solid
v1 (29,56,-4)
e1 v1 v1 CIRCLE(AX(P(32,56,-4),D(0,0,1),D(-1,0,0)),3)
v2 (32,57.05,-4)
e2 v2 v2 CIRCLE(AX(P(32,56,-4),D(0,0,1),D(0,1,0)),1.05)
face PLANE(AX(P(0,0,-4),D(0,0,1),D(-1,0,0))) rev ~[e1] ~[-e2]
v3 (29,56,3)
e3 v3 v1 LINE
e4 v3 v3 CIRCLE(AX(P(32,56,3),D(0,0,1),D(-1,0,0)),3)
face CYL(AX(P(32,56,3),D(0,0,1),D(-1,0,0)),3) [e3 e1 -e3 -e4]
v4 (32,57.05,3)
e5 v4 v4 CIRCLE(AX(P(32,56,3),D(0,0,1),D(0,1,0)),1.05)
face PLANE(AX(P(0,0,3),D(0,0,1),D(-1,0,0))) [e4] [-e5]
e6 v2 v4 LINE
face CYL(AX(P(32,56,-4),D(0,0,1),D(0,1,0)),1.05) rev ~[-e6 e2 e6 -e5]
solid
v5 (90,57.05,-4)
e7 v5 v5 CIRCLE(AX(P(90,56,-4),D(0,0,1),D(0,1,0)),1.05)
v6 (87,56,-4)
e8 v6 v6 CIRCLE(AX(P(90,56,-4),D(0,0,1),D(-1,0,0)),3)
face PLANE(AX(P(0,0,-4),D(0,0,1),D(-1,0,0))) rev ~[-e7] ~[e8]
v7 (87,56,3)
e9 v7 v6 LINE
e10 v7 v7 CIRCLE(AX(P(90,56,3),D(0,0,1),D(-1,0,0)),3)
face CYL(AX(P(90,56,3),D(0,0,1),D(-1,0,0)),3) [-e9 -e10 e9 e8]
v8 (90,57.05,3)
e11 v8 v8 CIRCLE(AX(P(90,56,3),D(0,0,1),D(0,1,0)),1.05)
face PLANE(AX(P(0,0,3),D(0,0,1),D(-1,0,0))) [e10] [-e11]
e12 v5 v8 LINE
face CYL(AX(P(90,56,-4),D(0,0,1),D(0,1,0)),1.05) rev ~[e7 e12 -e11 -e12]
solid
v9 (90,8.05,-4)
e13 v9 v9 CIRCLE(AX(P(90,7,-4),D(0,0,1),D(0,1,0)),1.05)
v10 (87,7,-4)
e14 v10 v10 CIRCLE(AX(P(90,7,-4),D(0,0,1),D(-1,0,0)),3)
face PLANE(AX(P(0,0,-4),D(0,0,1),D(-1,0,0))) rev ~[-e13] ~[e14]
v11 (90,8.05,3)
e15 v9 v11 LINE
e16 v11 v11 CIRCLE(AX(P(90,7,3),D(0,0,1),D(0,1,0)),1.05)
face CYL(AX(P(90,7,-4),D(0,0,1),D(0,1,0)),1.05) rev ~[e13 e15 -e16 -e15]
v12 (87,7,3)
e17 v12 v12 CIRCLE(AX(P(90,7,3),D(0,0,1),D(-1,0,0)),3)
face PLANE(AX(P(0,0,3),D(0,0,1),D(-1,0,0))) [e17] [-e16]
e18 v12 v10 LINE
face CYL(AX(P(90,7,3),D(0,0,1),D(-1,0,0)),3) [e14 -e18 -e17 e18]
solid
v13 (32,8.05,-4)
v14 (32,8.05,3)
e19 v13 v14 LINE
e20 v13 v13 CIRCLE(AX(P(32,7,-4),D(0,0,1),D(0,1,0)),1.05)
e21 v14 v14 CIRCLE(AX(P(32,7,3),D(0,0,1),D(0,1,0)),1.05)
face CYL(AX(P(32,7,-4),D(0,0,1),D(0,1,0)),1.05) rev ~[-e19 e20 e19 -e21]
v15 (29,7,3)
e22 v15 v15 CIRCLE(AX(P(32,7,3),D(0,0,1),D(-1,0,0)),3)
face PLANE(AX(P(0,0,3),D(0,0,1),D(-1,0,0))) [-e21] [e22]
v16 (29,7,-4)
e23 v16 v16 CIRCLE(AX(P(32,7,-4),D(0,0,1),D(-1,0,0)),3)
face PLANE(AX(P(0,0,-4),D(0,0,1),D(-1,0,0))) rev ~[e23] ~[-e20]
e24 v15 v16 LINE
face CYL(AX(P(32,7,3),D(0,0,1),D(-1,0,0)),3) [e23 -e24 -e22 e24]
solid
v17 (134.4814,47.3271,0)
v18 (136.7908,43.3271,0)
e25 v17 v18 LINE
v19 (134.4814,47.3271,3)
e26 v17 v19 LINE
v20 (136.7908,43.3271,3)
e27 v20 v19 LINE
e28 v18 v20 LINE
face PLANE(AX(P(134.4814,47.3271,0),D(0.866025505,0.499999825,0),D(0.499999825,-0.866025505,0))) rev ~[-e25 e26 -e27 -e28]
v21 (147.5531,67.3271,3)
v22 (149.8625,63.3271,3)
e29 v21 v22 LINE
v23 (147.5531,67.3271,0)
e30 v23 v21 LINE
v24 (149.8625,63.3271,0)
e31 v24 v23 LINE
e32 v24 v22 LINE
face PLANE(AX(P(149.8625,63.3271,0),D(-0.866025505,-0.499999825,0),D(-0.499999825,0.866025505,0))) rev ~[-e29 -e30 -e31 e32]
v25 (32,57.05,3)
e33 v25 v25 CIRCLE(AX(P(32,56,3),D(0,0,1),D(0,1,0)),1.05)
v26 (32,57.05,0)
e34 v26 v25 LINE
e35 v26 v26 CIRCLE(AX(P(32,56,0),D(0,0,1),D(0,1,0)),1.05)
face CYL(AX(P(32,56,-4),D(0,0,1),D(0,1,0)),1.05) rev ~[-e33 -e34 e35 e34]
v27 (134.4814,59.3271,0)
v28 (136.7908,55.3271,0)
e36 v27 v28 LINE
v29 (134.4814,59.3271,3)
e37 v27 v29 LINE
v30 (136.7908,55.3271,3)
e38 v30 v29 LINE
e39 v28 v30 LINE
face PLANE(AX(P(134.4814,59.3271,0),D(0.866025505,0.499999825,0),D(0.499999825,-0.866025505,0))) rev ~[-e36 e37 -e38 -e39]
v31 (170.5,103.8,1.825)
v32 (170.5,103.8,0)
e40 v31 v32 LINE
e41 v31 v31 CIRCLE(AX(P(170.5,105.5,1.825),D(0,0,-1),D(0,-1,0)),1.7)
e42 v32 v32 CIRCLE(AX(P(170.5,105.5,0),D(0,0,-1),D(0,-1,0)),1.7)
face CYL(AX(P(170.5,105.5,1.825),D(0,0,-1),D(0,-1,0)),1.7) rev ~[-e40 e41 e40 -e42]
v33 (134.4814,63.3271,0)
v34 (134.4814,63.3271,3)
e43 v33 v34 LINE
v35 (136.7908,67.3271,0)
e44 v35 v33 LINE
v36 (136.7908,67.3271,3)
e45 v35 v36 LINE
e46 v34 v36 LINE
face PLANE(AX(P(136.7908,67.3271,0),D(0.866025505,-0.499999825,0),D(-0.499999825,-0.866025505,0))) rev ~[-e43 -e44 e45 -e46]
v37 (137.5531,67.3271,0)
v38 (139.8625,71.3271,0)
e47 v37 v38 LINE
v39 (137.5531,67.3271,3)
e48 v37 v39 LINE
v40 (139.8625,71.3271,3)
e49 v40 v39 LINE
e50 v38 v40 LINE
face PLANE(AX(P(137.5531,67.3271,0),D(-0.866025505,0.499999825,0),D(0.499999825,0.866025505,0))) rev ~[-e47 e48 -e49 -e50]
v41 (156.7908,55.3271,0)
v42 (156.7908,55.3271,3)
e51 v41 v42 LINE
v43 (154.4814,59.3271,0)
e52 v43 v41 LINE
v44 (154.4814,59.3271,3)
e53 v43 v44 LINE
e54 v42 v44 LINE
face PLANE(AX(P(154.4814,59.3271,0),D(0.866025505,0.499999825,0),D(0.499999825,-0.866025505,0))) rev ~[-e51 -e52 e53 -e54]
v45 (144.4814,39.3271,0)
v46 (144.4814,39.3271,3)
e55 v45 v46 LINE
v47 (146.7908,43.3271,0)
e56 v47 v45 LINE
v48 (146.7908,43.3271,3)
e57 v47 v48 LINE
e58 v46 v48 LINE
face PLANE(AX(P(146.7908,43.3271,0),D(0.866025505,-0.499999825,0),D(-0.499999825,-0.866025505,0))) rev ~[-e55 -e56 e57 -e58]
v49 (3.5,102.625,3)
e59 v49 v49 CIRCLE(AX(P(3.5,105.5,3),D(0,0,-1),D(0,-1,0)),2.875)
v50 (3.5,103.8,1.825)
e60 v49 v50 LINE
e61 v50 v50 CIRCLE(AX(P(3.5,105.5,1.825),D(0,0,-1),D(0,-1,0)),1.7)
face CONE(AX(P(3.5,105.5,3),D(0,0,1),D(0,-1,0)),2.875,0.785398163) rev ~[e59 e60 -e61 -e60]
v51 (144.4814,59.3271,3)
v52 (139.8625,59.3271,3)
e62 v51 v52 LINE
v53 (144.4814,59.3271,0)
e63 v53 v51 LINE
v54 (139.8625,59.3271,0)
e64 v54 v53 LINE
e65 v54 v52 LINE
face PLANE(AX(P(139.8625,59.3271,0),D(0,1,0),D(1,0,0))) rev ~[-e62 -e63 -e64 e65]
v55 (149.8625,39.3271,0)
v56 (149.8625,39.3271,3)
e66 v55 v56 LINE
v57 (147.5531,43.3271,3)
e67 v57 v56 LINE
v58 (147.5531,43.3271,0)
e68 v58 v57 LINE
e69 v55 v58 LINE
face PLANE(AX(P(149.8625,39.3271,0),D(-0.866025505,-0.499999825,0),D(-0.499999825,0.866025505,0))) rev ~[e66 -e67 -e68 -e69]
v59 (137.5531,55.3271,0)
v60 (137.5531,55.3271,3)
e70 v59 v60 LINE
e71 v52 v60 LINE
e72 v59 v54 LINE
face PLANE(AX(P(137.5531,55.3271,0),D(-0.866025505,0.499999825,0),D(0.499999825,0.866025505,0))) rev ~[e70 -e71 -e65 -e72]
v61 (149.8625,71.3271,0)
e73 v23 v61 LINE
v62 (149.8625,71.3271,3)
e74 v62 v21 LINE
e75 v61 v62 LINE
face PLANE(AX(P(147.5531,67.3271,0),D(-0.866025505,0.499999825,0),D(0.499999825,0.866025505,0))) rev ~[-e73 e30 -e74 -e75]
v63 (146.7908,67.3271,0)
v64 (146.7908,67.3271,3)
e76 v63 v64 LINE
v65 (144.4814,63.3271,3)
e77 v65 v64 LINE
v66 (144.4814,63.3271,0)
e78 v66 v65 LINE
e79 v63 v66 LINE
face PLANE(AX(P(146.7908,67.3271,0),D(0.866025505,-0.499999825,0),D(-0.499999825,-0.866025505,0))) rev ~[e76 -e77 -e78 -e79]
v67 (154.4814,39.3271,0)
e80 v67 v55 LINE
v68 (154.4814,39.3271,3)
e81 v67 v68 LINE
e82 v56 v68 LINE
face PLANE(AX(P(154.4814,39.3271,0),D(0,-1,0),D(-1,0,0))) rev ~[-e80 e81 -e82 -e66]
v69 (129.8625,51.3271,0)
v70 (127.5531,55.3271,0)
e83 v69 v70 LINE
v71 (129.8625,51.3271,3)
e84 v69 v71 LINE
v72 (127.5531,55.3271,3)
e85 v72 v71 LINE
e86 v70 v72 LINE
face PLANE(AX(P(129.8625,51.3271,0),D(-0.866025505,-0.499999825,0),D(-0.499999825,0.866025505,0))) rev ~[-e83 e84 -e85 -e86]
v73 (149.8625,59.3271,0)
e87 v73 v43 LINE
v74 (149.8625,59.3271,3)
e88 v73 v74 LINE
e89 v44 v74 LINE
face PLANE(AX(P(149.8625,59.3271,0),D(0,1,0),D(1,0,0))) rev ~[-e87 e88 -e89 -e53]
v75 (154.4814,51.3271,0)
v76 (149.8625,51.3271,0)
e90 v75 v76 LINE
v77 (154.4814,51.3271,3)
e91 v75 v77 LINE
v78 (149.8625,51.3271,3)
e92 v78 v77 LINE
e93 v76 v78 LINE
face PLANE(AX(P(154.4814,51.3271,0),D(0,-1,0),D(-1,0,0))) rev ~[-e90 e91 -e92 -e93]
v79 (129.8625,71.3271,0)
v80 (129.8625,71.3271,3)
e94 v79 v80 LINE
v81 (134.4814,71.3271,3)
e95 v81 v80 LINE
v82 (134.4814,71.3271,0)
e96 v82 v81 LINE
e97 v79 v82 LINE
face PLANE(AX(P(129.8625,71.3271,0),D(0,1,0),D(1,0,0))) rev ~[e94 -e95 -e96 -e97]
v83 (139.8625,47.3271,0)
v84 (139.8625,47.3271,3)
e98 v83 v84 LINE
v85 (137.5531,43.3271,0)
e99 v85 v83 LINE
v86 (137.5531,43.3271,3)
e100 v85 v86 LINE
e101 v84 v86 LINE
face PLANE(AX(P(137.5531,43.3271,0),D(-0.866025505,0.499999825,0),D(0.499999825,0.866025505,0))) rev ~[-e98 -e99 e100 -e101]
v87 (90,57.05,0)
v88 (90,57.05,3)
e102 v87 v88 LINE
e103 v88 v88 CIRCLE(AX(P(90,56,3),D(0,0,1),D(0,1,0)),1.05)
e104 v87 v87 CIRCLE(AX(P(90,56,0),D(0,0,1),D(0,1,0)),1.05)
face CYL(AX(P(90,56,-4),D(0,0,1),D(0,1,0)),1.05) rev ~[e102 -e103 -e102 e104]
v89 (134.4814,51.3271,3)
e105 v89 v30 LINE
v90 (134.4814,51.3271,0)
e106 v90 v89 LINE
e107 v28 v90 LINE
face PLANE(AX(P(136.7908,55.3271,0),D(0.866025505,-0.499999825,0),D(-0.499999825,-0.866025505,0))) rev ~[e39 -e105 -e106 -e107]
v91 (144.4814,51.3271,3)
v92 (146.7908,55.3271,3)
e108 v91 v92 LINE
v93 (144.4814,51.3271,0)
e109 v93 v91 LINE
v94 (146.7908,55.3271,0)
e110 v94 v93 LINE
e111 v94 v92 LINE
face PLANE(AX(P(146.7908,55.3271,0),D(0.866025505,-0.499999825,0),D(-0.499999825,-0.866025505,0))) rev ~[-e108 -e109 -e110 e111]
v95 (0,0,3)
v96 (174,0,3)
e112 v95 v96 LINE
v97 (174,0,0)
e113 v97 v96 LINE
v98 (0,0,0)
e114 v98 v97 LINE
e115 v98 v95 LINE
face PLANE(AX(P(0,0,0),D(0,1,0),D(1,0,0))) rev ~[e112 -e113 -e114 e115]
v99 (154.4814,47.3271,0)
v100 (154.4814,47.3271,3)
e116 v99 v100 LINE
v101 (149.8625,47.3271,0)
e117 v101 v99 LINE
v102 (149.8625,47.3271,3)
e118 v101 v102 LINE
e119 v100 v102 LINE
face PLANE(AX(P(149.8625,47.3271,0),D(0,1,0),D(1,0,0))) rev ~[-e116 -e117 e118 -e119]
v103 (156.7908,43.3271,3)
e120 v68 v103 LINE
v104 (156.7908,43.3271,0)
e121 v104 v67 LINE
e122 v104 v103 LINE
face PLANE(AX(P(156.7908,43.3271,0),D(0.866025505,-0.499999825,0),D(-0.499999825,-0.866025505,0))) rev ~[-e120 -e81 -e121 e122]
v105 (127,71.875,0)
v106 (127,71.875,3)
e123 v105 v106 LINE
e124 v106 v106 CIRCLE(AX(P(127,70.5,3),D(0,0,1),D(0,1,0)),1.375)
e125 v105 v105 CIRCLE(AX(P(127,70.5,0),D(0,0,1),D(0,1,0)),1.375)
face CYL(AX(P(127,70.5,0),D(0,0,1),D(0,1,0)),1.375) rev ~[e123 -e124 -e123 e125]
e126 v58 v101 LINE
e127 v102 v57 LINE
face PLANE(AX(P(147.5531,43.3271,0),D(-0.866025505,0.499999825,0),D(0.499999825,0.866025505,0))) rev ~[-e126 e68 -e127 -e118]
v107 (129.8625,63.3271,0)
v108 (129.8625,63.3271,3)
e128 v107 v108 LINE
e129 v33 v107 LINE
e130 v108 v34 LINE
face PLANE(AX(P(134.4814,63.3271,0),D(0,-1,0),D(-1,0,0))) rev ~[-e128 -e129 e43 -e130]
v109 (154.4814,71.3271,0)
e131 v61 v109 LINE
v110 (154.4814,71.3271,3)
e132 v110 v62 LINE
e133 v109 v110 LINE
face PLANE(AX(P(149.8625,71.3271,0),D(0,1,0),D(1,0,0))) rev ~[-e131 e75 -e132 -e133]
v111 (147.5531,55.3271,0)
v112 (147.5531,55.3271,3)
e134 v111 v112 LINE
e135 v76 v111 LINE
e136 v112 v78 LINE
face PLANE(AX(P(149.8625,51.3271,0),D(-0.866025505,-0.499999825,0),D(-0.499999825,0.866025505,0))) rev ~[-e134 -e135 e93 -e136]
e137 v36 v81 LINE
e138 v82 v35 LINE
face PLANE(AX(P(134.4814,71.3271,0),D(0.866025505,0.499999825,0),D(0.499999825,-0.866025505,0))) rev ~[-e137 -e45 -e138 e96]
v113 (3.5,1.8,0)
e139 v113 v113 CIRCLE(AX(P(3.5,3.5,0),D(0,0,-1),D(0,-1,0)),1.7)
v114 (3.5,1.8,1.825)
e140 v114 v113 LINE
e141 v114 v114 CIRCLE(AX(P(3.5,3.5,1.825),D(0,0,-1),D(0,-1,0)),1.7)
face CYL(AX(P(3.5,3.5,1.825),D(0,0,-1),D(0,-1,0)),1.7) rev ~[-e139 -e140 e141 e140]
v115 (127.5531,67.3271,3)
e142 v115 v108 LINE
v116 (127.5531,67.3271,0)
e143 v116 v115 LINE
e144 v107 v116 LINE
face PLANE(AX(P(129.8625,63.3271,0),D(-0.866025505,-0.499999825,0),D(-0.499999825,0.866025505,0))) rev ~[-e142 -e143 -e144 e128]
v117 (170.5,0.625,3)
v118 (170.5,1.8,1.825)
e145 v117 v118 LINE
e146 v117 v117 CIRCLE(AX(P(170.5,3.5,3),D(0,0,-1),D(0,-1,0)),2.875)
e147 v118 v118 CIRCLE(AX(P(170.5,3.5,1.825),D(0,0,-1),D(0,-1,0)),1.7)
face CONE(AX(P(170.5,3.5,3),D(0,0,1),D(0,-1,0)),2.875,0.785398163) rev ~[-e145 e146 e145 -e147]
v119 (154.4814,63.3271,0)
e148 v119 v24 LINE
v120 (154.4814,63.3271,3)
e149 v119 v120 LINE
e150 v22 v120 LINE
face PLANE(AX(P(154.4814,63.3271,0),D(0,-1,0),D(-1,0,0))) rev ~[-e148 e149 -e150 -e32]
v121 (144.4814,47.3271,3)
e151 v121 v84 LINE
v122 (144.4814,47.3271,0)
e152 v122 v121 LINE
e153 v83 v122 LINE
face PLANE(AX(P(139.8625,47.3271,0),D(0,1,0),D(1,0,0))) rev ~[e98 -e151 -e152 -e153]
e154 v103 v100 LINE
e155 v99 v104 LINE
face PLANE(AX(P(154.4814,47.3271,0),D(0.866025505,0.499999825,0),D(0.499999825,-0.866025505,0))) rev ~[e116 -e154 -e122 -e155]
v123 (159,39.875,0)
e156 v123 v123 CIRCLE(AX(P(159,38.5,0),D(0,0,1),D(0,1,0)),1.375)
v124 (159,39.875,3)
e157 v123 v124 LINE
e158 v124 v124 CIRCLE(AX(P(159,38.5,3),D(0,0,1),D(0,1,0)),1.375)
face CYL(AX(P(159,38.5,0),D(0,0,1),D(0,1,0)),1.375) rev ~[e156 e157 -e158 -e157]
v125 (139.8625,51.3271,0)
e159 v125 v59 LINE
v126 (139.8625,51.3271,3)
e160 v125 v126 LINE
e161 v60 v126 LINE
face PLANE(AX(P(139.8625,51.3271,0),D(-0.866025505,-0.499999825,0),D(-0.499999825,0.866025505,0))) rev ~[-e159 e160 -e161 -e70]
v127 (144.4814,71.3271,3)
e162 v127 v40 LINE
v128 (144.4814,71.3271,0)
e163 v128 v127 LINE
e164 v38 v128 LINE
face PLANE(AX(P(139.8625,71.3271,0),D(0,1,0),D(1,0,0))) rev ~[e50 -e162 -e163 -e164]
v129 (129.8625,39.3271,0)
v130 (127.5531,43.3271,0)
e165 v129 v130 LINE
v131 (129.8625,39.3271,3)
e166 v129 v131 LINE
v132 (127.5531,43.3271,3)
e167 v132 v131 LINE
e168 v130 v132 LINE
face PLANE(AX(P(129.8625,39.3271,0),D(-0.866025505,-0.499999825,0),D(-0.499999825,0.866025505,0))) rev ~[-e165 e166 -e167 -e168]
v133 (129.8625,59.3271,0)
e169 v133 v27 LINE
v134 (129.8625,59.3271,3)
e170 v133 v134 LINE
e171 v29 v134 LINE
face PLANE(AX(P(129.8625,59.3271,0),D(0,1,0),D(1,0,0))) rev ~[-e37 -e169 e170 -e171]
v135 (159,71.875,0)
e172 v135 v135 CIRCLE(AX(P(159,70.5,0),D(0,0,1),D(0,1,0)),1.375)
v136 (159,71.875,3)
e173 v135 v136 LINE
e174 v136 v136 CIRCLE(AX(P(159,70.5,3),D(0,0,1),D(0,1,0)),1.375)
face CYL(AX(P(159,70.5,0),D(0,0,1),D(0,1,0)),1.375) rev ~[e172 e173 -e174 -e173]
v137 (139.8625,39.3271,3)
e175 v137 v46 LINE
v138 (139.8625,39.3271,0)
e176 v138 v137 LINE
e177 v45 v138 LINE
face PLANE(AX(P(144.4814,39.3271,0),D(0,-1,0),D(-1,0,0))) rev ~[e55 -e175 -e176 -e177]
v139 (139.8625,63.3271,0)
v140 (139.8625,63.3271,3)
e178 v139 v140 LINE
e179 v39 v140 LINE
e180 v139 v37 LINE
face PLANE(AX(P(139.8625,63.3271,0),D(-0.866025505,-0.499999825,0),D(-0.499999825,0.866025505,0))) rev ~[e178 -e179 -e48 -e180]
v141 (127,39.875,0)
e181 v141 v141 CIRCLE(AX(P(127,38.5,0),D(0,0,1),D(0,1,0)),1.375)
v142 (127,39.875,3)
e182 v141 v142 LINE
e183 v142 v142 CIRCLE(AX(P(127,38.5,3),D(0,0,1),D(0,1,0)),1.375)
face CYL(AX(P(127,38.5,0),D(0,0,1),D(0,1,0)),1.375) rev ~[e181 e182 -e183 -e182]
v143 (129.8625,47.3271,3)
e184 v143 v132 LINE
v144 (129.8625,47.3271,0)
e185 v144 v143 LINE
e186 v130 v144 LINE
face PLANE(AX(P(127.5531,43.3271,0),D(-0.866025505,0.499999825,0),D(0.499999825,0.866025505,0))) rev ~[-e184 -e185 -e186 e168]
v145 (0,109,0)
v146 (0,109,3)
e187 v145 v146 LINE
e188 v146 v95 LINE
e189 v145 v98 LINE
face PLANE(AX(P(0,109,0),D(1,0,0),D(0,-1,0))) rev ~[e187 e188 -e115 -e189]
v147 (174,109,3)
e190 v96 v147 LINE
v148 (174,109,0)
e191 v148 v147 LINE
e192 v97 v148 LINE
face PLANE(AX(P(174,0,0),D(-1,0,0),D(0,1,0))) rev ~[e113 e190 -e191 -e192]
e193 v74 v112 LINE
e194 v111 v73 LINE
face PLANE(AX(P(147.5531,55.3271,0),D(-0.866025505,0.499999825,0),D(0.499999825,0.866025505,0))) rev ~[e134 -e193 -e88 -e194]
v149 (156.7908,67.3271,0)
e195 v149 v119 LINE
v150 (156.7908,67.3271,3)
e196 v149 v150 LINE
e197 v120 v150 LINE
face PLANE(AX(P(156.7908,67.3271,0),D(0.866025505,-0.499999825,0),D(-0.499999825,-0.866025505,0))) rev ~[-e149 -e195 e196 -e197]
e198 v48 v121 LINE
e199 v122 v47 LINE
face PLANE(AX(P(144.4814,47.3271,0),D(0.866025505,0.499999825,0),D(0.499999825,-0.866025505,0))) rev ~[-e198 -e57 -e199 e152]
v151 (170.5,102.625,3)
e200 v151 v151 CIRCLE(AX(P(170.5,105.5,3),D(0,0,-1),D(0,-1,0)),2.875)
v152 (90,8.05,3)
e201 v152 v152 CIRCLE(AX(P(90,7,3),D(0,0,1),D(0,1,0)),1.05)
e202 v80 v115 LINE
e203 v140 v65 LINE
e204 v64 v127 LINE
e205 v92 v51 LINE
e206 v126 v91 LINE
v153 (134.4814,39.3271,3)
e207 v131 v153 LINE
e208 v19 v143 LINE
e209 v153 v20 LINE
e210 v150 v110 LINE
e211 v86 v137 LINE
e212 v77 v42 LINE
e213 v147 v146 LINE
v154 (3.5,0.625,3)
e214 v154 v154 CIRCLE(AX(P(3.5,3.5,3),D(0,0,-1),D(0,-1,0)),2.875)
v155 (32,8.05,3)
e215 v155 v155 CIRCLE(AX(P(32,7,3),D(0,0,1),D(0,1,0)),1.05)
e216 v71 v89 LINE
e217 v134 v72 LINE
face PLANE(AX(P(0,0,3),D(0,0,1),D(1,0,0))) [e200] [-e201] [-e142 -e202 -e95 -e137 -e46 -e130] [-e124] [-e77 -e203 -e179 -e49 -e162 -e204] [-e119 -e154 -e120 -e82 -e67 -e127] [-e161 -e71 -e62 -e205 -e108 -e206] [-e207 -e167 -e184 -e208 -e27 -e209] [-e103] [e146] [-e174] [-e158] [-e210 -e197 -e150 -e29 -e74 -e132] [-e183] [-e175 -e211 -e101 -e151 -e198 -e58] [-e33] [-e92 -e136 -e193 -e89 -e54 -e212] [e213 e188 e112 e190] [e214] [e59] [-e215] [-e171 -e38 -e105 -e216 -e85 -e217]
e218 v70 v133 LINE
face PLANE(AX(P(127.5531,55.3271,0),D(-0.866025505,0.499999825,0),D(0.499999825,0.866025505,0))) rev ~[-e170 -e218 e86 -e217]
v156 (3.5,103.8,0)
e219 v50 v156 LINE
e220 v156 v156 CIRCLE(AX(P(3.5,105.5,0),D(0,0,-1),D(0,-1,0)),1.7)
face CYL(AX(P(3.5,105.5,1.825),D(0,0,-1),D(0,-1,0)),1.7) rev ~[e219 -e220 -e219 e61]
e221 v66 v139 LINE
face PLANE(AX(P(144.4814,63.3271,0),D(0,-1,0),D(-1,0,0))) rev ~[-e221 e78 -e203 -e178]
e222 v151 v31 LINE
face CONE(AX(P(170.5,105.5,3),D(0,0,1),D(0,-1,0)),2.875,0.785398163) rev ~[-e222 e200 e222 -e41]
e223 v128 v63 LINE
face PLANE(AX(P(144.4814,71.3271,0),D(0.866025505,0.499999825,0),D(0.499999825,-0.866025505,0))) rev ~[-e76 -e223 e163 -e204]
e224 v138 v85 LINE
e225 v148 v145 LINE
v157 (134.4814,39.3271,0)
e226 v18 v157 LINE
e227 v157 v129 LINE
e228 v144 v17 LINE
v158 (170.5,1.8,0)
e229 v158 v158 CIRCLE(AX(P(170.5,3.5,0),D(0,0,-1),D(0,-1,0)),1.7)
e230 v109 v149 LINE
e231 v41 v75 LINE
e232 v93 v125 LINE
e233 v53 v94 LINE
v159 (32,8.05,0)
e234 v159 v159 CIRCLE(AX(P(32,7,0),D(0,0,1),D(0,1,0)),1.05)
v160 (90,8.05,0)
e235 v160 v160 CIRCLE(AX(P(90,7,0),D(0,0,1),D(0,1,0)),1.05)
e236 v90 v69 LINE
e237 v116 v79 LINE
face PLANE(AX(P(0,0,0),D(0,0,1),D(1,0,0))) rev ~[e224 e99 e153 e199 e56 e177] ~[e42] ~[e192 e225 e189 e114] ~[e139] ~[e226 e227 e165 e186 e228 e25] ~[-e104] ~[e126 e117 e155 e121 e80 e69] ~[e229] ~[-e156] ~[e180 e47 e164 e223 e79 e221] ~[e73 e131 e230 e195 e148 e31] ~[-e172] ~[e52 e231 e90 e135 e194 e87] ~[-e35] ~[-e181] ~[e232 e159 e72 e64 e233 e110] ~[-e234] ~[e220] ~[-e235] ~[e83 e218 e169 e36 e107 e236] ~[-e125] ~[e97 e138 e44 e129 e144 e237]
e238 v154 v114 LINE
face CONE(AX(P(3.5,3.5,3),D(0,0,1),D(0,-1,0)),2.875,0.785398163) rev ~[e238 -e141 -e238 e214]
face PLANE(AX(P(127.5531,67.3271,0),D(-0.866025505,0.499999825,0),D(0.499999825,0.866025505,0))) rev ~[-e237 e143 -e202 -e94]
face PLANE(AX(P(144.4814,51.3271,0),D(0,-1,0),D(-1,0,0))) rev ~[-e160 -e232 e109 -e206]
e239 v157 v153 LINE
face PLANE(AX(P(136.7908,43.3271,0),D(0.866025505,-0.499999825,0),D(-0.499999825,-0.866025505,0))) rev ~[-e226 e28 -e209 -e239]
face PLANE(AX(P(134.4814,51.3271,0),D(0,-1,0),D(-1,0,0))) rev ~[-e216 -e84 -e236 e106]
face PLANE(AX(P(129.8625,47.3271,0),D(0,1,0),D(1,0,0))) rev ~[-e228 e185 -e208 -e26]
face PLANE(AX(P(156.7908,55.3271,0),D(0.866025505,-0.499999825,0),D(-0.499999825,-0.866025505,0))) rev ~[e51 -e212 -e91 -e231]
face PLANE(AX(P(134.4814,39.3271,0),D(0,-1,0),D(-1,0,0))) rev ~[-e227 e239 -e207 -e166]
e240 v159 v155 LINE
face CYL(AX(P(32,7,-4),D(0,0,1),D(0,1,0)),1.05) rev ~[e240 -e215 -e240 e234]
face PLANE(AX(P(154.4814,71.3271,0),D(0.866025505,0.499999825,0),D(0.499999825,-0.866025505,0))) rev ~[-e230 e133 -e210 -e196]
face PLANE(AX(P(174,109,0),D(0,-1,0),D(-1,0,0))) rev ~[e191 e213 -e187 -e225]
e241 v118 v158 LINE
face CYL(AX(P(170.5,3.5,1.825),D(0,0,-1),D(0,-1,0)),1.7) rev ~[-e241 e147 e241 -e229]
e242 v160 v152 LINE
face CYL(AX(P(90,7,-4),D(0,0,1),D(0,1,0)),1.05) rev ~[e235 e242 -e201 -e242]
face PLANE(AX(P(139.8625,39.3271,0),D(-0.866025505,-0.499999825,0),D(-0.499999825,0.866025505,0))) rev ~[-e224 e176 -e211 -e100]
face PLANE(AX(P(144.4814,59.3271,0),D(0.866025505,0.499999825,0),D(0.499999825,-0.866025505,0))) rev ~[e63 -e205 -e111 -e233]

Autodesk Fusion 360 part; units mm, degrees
sketch "Sketch1" plane through (0, 0, 0) normal (0, 0, 1) x (1, 0, 0)
  line L0 (0, 0) -> (174, 0)
  line L1 (174, 0) -> (174, 109)
  line L2 (174, 109) -> (0, 109)
  line L3 (0, 109) -> (0, 0)
  dimension "d1" = 174
  dimension "d2" = 109
extrude "Extrude1" add sketch "Sketch1" along normal blind 3 makes body 1
sketch "Sketch2" plane through (0, 0, 3) normal (0, 0, 1) x (-1, 0, 0)
  line L0 (0, -109) -> (0, 0)
  line L1 (0, 0) -> (-174, 0)
  line L2 (-174, 0) -> (-174, -109)
  line L3 (-174, -109) -> (0, -109)
  point P0 (-3.5, -3.5)
  point P1 (-3.5, -105.5)
  point P2 (-170.5, -105.5)
  point P3 (-170.5, -3.5)
hole "Hole1" at (170.5, 3.5, 3) at (3.5, 105.5, 3) at (3.5, 3.5, 3) at (170.5, 105.5, 3) direction (0, 0, -1) diameter 3.4 depth 6 tip angle 180 countersink diameter 5.75 countersink angle 90 bodies 1
sketch "Sketch6" plane through (0, 0, 3) normal (0, 0, 1) x (-1, 0, 0)
  circle A0 centre (-3.5, -3.5) radius 2.875
  circle A1 centre (-170.5, -3.5) radius 2.875
  circle A2 centre (-3.5, -105.5) radius 2.875
  circle A3 centre (-170.5, -105.5) radius 2.875
  line L0 (0, -109) -> (0, 0)
  line L1 (0, 0) -> (-174, 0)
  line L2 (-174, 0) -> (-174, -109)
  line L3 (-174, -109) -> (0, -109)
  circle A4 centre (-90, -7) radius 3
  circle A5 centre (-90, -56) radius 3
  circle A6 centre (-32, -7) radius 3
  circle A7 centre (-32, -56) radius 3
  point P0 (-32, -7)
  point P1 (-32, -56)
  point P2 (-90, -7)
  point P3 (-90, -56)
  dimension "d24" = 6
  dimension "d25" = 6
  dimension "d26" = 6
  dimension "d27" = 6
extrude "Extrude3" add sketch "Sketch6" against normal blind 7 separate body contours A4 | A5 | A6 | A7 makes body 2 at (87.0149, 7.2987, -1.6667) makes body 3 at (29.0149, 7.2987, -1.6667) makes body 4 at (89.0445, 53.1562, -1.6667) makes body 5 at (29.0149, 56.2987, -1.6667)
sketch "Sketch7" plane through (0, 0, -4) normal (0, 0, -1) x (1, 0, 0)
  circle A0 centre (90, -56) radius 3
  point P0 (90, -56)
  point P1 (90, -7)
  point P2 (32, -7)
  point P3 (32, -56)
hole "Hole2" at (90, 56, -4) at (90, 7, -4) at (32, 56, -4) at (32, 7, -4) direction (0, 0, 1) diameter 2.1 depth 14 tip angle 180 bodies 1 2 3 4 5
sketch "Sketch8" plane through (0, 0, 0) normal (0, 0, -1) x (1, 0, 0)
  circle A0 centre (32, -56) radius 1.05
  circle A1 centre (90, -56) radius 1.05
  circle A2 centre (90, -7) radius 1.05
  circle A3 centre (32, -7) radius 1.05
  circle A4 centre (3.5, -3.5) radius 1.7
  circle A5 centre (170.5, -3.5) radius 1.7
  circle A6 centre (3.5, -105.5) radius 1.7
  circle A7 centre (170.5, -105.5) radius 1.7
  line L0 (0, 0) -> (0, -109)
  line L1 (0, -109) -> (174, -109)
  line L2 (174, -109) -> (174, 0)
  line L3 (174, 0) -> (0, 0)
  line L4 (127, -38.5) -> (159, -38.5)
  line L5 (159, -38.5) -> (159, -70.5)
  line L6 (159, -70.5) -> (127, -70.5)
  line L7 (127, -70.5) -> (127, -38.5)
  line L8 (127, -38.5) -> (159, -70.5) construction
  line L9 (159, -38.5) -> (127, -70.5) construction
  point P0 (143, -54.5)
  point P1 (143, -54.5)
  dimension "d33" = 32
  dimension "d34" = 32
hole "Hole3" at (159, 70.5, 0) at (127, 38.5, 0) at (127, 70.5, 0) at (159, 38.5, 0) direction (0, 0, 1) diameter 2.75 depth 14 tip angle 180 bodies 1
sketch "Sketch9" plane through (0, 0, 0) normal (0, 0, -1) x (1, 0, 0)
  circle A0 centre (127, -70.5) radius 1.375
  circle A1 centre (159, -70.5) radius 1.375
  circle A2 centre (127, -38.5) radius 1.375
  circle A3 centre (159, -38.5) radius 1.375
  circle A4 centre (32, -56) radius 1.05
  circle A5 centre (90, -56) radius 1.05
  circle A6 centre (90, -7) radius 1.05
  circle A7 centre (32, -7) radius 1.05
  circle A8 centre (3.5, -3.5) radius 1.7
  circle A9 centre (170.5, -3.5) radius 1.7
  circle A10 centre (3.5, -105.5) radius 1.7
  circle A11 centre (170.5, -105.5) radius 1.7
  line L0 (0, 0) -> (0, -109)
  line L1 (0, -109) -> (174, -109)
  line L2 (174, -109) -> (174, 0)
  line L3 (174, 0) -> (0, 0)
  line L4 (149.8625, -63.3271) -> (147.5531, -67.3271)
  line L5 (147.5531, -67.3271) -> (149.8625, -71.3271)
  line L6 (149.8625, -71.3271) -> (154.4814, -71.3271)
  line L7 (154.4814, -71.3271) -> (156.7908, -67.3271)
  line L8 (156.7908, -67.3271) -> (154.4814, -63.3271)
  line L9 (154.4814, -63.3271) -> (149.8625, -63.3271)
  line L10 (139.8625, -71.3271) -> (144.4814, -71.3271)
  line L11 (144.4814, -71.3271) -> (146.7908, -67.3271)
  line L12 (146.7908, -67.3271) -> (144.4814, -63.3271)
  line L13 (144.4814, -63.3271) -> (139.8625, -63.3271)
  line L14 (139.8625, -63.3271) -> (137.5531, -67.3271)
  line L15 (137.5531, -67.3271) -> (139.8625, -71.3271)
  line L16 (129.8625, -71.3271) -> (134.4814, -71.3271)
  line L17 (134.4814, -71.3271) -> (136.7908, -67.3271)
  line L18 (136.7908, -67.3271) -> (134.4814, -63.3271)
  line L19 (134.4814, -63.3271) -> (129.8625, -63.3271)
  line L20 (129.8625, -63.3271) -> (127.5531, -67.3271)
  line L21 (127.5531, -67.3271) -> (129.8625, -71.3271)
  line L22 (149.8625, -59.3271) -> (154.4814, -59.3271)
  line L23 (154.4814, -59.3271) -> (156.7908, -55.3271)
  line L24 (156.7908, -55.3271) -> (154.4814, -51.3271)
  line L25 (154.4814, -51.3271) -> (149.8625, -51.3271)
  line L26 (149.8625, -51.3271) -> (147.5531, -55.3271)
  line L27 (147.5531, -55.3271) -> (149.8625, -59.3271)
  line L28 (139.8625, -59.3271) -> (144.4814, -59.3271)
  line L29 (144.4814, -59.3271) -> (146.7908, -55.3271)
  line L30 (146.7908, -55.3271) -> (144.4814, -51.3271)
  line L31 (144.4814, -51.3271) -> (139.8625, -51.3271)
  line L32 (139.8625, -51.3271) -> (137.5531, -55.3271)
  line L33 (137.5531, -55.3271) -> (139.8625, -59.3271)
  line L34 (129.8625, -59.3271) -> (134.4814, -59.3271)
  line L35 (134.4814, -59.3271) -> (136.7908, -55.3271)
  line L36 (136.7908, -55.3271) -> (134.4814, -51.3271)
  line L37 (134.4814, -51.3271) -> (129.8625, -51.3271)
  line L38 (129.8625, -51.3271) -> (127.5531, -55.3271)
  line L39 (127.5531, -55.3271) -> (129.8625, -59.3271)
  line L40 (149.8625, -47.3271) -> (154.4814, -47.3271)
  line L41 (154.4814, -47.3271) -> (156.7908, -43.3271)
  line L42 (156.7908, -43.3271) -> (154.4814, -39.3271)
  line L43 (154.4814, -39.3271) -> (149.8625, -39.3271)
  line L44 (149.8625, -39.3271) -> (147.5531, -43.3271)
  line L45 (147.5531, -43.3271) -> (149.8625, -47.3271)
  line L46 (139.8625, -47.3271) -> (144.4814, -47.3271)
  line L47 (144.4814, -47.3271) -> (146.7908, -43.3271)
  line L48 (146.7908, -43.3271) -> (144.4814, -39.3271)
  line L49 (144.4814, -39.3271) -> (139.8625, -39.3271)
  line L50 (139.8625, -39.3271) -> (137.5531, -43.3271)
  line L51 (137.5531, -43.3271) -> (139.8625, -47.3271)
  line L52 (129.8625, -47.3271) -> (134.4814, -47.3271)
  line L53 (134.4814, -47.3271) -> (136.7908, -43.3271)
  line L54 (136.7908, -43.3271) -> (134.4814, -39.3271)
  line L55 (134.4814, -39.3271) -> (129.8625, -39.3271)
  line L56 (129.8625, -39.3271) -> (127.5531, -43.3271)
  line L57 (127.5531, -43.3271) -> (129.8625, -47.3271)
  point P0 (152.172, -67.3271)
  point P1 (142.238, -62.3661)
  point P2 (132.9985, -66.7092)
  dimension "d39" = 4
  dimension "d44" = -10
  dimension "d45" = 12
extrude "Extrude4" cut sketch "Sketch9" against normal blind 1000 contours L4 L5 L6 L7 L8 L9 | L10 L11 L12 L13 L14 L15 | L16 L17 L18 L19 L20 L21 | L22 L23 L24 L25 L26 L27 | L28 L29 L30 L31 L32 L33 | L34 L35 L36 L37 L38 L39 | L40 L41 L42 L43 L44 L45 | L46 L47 L48 L49 L50 L51 | L52 L53 L54 L55 L56 L57 bodies 1
